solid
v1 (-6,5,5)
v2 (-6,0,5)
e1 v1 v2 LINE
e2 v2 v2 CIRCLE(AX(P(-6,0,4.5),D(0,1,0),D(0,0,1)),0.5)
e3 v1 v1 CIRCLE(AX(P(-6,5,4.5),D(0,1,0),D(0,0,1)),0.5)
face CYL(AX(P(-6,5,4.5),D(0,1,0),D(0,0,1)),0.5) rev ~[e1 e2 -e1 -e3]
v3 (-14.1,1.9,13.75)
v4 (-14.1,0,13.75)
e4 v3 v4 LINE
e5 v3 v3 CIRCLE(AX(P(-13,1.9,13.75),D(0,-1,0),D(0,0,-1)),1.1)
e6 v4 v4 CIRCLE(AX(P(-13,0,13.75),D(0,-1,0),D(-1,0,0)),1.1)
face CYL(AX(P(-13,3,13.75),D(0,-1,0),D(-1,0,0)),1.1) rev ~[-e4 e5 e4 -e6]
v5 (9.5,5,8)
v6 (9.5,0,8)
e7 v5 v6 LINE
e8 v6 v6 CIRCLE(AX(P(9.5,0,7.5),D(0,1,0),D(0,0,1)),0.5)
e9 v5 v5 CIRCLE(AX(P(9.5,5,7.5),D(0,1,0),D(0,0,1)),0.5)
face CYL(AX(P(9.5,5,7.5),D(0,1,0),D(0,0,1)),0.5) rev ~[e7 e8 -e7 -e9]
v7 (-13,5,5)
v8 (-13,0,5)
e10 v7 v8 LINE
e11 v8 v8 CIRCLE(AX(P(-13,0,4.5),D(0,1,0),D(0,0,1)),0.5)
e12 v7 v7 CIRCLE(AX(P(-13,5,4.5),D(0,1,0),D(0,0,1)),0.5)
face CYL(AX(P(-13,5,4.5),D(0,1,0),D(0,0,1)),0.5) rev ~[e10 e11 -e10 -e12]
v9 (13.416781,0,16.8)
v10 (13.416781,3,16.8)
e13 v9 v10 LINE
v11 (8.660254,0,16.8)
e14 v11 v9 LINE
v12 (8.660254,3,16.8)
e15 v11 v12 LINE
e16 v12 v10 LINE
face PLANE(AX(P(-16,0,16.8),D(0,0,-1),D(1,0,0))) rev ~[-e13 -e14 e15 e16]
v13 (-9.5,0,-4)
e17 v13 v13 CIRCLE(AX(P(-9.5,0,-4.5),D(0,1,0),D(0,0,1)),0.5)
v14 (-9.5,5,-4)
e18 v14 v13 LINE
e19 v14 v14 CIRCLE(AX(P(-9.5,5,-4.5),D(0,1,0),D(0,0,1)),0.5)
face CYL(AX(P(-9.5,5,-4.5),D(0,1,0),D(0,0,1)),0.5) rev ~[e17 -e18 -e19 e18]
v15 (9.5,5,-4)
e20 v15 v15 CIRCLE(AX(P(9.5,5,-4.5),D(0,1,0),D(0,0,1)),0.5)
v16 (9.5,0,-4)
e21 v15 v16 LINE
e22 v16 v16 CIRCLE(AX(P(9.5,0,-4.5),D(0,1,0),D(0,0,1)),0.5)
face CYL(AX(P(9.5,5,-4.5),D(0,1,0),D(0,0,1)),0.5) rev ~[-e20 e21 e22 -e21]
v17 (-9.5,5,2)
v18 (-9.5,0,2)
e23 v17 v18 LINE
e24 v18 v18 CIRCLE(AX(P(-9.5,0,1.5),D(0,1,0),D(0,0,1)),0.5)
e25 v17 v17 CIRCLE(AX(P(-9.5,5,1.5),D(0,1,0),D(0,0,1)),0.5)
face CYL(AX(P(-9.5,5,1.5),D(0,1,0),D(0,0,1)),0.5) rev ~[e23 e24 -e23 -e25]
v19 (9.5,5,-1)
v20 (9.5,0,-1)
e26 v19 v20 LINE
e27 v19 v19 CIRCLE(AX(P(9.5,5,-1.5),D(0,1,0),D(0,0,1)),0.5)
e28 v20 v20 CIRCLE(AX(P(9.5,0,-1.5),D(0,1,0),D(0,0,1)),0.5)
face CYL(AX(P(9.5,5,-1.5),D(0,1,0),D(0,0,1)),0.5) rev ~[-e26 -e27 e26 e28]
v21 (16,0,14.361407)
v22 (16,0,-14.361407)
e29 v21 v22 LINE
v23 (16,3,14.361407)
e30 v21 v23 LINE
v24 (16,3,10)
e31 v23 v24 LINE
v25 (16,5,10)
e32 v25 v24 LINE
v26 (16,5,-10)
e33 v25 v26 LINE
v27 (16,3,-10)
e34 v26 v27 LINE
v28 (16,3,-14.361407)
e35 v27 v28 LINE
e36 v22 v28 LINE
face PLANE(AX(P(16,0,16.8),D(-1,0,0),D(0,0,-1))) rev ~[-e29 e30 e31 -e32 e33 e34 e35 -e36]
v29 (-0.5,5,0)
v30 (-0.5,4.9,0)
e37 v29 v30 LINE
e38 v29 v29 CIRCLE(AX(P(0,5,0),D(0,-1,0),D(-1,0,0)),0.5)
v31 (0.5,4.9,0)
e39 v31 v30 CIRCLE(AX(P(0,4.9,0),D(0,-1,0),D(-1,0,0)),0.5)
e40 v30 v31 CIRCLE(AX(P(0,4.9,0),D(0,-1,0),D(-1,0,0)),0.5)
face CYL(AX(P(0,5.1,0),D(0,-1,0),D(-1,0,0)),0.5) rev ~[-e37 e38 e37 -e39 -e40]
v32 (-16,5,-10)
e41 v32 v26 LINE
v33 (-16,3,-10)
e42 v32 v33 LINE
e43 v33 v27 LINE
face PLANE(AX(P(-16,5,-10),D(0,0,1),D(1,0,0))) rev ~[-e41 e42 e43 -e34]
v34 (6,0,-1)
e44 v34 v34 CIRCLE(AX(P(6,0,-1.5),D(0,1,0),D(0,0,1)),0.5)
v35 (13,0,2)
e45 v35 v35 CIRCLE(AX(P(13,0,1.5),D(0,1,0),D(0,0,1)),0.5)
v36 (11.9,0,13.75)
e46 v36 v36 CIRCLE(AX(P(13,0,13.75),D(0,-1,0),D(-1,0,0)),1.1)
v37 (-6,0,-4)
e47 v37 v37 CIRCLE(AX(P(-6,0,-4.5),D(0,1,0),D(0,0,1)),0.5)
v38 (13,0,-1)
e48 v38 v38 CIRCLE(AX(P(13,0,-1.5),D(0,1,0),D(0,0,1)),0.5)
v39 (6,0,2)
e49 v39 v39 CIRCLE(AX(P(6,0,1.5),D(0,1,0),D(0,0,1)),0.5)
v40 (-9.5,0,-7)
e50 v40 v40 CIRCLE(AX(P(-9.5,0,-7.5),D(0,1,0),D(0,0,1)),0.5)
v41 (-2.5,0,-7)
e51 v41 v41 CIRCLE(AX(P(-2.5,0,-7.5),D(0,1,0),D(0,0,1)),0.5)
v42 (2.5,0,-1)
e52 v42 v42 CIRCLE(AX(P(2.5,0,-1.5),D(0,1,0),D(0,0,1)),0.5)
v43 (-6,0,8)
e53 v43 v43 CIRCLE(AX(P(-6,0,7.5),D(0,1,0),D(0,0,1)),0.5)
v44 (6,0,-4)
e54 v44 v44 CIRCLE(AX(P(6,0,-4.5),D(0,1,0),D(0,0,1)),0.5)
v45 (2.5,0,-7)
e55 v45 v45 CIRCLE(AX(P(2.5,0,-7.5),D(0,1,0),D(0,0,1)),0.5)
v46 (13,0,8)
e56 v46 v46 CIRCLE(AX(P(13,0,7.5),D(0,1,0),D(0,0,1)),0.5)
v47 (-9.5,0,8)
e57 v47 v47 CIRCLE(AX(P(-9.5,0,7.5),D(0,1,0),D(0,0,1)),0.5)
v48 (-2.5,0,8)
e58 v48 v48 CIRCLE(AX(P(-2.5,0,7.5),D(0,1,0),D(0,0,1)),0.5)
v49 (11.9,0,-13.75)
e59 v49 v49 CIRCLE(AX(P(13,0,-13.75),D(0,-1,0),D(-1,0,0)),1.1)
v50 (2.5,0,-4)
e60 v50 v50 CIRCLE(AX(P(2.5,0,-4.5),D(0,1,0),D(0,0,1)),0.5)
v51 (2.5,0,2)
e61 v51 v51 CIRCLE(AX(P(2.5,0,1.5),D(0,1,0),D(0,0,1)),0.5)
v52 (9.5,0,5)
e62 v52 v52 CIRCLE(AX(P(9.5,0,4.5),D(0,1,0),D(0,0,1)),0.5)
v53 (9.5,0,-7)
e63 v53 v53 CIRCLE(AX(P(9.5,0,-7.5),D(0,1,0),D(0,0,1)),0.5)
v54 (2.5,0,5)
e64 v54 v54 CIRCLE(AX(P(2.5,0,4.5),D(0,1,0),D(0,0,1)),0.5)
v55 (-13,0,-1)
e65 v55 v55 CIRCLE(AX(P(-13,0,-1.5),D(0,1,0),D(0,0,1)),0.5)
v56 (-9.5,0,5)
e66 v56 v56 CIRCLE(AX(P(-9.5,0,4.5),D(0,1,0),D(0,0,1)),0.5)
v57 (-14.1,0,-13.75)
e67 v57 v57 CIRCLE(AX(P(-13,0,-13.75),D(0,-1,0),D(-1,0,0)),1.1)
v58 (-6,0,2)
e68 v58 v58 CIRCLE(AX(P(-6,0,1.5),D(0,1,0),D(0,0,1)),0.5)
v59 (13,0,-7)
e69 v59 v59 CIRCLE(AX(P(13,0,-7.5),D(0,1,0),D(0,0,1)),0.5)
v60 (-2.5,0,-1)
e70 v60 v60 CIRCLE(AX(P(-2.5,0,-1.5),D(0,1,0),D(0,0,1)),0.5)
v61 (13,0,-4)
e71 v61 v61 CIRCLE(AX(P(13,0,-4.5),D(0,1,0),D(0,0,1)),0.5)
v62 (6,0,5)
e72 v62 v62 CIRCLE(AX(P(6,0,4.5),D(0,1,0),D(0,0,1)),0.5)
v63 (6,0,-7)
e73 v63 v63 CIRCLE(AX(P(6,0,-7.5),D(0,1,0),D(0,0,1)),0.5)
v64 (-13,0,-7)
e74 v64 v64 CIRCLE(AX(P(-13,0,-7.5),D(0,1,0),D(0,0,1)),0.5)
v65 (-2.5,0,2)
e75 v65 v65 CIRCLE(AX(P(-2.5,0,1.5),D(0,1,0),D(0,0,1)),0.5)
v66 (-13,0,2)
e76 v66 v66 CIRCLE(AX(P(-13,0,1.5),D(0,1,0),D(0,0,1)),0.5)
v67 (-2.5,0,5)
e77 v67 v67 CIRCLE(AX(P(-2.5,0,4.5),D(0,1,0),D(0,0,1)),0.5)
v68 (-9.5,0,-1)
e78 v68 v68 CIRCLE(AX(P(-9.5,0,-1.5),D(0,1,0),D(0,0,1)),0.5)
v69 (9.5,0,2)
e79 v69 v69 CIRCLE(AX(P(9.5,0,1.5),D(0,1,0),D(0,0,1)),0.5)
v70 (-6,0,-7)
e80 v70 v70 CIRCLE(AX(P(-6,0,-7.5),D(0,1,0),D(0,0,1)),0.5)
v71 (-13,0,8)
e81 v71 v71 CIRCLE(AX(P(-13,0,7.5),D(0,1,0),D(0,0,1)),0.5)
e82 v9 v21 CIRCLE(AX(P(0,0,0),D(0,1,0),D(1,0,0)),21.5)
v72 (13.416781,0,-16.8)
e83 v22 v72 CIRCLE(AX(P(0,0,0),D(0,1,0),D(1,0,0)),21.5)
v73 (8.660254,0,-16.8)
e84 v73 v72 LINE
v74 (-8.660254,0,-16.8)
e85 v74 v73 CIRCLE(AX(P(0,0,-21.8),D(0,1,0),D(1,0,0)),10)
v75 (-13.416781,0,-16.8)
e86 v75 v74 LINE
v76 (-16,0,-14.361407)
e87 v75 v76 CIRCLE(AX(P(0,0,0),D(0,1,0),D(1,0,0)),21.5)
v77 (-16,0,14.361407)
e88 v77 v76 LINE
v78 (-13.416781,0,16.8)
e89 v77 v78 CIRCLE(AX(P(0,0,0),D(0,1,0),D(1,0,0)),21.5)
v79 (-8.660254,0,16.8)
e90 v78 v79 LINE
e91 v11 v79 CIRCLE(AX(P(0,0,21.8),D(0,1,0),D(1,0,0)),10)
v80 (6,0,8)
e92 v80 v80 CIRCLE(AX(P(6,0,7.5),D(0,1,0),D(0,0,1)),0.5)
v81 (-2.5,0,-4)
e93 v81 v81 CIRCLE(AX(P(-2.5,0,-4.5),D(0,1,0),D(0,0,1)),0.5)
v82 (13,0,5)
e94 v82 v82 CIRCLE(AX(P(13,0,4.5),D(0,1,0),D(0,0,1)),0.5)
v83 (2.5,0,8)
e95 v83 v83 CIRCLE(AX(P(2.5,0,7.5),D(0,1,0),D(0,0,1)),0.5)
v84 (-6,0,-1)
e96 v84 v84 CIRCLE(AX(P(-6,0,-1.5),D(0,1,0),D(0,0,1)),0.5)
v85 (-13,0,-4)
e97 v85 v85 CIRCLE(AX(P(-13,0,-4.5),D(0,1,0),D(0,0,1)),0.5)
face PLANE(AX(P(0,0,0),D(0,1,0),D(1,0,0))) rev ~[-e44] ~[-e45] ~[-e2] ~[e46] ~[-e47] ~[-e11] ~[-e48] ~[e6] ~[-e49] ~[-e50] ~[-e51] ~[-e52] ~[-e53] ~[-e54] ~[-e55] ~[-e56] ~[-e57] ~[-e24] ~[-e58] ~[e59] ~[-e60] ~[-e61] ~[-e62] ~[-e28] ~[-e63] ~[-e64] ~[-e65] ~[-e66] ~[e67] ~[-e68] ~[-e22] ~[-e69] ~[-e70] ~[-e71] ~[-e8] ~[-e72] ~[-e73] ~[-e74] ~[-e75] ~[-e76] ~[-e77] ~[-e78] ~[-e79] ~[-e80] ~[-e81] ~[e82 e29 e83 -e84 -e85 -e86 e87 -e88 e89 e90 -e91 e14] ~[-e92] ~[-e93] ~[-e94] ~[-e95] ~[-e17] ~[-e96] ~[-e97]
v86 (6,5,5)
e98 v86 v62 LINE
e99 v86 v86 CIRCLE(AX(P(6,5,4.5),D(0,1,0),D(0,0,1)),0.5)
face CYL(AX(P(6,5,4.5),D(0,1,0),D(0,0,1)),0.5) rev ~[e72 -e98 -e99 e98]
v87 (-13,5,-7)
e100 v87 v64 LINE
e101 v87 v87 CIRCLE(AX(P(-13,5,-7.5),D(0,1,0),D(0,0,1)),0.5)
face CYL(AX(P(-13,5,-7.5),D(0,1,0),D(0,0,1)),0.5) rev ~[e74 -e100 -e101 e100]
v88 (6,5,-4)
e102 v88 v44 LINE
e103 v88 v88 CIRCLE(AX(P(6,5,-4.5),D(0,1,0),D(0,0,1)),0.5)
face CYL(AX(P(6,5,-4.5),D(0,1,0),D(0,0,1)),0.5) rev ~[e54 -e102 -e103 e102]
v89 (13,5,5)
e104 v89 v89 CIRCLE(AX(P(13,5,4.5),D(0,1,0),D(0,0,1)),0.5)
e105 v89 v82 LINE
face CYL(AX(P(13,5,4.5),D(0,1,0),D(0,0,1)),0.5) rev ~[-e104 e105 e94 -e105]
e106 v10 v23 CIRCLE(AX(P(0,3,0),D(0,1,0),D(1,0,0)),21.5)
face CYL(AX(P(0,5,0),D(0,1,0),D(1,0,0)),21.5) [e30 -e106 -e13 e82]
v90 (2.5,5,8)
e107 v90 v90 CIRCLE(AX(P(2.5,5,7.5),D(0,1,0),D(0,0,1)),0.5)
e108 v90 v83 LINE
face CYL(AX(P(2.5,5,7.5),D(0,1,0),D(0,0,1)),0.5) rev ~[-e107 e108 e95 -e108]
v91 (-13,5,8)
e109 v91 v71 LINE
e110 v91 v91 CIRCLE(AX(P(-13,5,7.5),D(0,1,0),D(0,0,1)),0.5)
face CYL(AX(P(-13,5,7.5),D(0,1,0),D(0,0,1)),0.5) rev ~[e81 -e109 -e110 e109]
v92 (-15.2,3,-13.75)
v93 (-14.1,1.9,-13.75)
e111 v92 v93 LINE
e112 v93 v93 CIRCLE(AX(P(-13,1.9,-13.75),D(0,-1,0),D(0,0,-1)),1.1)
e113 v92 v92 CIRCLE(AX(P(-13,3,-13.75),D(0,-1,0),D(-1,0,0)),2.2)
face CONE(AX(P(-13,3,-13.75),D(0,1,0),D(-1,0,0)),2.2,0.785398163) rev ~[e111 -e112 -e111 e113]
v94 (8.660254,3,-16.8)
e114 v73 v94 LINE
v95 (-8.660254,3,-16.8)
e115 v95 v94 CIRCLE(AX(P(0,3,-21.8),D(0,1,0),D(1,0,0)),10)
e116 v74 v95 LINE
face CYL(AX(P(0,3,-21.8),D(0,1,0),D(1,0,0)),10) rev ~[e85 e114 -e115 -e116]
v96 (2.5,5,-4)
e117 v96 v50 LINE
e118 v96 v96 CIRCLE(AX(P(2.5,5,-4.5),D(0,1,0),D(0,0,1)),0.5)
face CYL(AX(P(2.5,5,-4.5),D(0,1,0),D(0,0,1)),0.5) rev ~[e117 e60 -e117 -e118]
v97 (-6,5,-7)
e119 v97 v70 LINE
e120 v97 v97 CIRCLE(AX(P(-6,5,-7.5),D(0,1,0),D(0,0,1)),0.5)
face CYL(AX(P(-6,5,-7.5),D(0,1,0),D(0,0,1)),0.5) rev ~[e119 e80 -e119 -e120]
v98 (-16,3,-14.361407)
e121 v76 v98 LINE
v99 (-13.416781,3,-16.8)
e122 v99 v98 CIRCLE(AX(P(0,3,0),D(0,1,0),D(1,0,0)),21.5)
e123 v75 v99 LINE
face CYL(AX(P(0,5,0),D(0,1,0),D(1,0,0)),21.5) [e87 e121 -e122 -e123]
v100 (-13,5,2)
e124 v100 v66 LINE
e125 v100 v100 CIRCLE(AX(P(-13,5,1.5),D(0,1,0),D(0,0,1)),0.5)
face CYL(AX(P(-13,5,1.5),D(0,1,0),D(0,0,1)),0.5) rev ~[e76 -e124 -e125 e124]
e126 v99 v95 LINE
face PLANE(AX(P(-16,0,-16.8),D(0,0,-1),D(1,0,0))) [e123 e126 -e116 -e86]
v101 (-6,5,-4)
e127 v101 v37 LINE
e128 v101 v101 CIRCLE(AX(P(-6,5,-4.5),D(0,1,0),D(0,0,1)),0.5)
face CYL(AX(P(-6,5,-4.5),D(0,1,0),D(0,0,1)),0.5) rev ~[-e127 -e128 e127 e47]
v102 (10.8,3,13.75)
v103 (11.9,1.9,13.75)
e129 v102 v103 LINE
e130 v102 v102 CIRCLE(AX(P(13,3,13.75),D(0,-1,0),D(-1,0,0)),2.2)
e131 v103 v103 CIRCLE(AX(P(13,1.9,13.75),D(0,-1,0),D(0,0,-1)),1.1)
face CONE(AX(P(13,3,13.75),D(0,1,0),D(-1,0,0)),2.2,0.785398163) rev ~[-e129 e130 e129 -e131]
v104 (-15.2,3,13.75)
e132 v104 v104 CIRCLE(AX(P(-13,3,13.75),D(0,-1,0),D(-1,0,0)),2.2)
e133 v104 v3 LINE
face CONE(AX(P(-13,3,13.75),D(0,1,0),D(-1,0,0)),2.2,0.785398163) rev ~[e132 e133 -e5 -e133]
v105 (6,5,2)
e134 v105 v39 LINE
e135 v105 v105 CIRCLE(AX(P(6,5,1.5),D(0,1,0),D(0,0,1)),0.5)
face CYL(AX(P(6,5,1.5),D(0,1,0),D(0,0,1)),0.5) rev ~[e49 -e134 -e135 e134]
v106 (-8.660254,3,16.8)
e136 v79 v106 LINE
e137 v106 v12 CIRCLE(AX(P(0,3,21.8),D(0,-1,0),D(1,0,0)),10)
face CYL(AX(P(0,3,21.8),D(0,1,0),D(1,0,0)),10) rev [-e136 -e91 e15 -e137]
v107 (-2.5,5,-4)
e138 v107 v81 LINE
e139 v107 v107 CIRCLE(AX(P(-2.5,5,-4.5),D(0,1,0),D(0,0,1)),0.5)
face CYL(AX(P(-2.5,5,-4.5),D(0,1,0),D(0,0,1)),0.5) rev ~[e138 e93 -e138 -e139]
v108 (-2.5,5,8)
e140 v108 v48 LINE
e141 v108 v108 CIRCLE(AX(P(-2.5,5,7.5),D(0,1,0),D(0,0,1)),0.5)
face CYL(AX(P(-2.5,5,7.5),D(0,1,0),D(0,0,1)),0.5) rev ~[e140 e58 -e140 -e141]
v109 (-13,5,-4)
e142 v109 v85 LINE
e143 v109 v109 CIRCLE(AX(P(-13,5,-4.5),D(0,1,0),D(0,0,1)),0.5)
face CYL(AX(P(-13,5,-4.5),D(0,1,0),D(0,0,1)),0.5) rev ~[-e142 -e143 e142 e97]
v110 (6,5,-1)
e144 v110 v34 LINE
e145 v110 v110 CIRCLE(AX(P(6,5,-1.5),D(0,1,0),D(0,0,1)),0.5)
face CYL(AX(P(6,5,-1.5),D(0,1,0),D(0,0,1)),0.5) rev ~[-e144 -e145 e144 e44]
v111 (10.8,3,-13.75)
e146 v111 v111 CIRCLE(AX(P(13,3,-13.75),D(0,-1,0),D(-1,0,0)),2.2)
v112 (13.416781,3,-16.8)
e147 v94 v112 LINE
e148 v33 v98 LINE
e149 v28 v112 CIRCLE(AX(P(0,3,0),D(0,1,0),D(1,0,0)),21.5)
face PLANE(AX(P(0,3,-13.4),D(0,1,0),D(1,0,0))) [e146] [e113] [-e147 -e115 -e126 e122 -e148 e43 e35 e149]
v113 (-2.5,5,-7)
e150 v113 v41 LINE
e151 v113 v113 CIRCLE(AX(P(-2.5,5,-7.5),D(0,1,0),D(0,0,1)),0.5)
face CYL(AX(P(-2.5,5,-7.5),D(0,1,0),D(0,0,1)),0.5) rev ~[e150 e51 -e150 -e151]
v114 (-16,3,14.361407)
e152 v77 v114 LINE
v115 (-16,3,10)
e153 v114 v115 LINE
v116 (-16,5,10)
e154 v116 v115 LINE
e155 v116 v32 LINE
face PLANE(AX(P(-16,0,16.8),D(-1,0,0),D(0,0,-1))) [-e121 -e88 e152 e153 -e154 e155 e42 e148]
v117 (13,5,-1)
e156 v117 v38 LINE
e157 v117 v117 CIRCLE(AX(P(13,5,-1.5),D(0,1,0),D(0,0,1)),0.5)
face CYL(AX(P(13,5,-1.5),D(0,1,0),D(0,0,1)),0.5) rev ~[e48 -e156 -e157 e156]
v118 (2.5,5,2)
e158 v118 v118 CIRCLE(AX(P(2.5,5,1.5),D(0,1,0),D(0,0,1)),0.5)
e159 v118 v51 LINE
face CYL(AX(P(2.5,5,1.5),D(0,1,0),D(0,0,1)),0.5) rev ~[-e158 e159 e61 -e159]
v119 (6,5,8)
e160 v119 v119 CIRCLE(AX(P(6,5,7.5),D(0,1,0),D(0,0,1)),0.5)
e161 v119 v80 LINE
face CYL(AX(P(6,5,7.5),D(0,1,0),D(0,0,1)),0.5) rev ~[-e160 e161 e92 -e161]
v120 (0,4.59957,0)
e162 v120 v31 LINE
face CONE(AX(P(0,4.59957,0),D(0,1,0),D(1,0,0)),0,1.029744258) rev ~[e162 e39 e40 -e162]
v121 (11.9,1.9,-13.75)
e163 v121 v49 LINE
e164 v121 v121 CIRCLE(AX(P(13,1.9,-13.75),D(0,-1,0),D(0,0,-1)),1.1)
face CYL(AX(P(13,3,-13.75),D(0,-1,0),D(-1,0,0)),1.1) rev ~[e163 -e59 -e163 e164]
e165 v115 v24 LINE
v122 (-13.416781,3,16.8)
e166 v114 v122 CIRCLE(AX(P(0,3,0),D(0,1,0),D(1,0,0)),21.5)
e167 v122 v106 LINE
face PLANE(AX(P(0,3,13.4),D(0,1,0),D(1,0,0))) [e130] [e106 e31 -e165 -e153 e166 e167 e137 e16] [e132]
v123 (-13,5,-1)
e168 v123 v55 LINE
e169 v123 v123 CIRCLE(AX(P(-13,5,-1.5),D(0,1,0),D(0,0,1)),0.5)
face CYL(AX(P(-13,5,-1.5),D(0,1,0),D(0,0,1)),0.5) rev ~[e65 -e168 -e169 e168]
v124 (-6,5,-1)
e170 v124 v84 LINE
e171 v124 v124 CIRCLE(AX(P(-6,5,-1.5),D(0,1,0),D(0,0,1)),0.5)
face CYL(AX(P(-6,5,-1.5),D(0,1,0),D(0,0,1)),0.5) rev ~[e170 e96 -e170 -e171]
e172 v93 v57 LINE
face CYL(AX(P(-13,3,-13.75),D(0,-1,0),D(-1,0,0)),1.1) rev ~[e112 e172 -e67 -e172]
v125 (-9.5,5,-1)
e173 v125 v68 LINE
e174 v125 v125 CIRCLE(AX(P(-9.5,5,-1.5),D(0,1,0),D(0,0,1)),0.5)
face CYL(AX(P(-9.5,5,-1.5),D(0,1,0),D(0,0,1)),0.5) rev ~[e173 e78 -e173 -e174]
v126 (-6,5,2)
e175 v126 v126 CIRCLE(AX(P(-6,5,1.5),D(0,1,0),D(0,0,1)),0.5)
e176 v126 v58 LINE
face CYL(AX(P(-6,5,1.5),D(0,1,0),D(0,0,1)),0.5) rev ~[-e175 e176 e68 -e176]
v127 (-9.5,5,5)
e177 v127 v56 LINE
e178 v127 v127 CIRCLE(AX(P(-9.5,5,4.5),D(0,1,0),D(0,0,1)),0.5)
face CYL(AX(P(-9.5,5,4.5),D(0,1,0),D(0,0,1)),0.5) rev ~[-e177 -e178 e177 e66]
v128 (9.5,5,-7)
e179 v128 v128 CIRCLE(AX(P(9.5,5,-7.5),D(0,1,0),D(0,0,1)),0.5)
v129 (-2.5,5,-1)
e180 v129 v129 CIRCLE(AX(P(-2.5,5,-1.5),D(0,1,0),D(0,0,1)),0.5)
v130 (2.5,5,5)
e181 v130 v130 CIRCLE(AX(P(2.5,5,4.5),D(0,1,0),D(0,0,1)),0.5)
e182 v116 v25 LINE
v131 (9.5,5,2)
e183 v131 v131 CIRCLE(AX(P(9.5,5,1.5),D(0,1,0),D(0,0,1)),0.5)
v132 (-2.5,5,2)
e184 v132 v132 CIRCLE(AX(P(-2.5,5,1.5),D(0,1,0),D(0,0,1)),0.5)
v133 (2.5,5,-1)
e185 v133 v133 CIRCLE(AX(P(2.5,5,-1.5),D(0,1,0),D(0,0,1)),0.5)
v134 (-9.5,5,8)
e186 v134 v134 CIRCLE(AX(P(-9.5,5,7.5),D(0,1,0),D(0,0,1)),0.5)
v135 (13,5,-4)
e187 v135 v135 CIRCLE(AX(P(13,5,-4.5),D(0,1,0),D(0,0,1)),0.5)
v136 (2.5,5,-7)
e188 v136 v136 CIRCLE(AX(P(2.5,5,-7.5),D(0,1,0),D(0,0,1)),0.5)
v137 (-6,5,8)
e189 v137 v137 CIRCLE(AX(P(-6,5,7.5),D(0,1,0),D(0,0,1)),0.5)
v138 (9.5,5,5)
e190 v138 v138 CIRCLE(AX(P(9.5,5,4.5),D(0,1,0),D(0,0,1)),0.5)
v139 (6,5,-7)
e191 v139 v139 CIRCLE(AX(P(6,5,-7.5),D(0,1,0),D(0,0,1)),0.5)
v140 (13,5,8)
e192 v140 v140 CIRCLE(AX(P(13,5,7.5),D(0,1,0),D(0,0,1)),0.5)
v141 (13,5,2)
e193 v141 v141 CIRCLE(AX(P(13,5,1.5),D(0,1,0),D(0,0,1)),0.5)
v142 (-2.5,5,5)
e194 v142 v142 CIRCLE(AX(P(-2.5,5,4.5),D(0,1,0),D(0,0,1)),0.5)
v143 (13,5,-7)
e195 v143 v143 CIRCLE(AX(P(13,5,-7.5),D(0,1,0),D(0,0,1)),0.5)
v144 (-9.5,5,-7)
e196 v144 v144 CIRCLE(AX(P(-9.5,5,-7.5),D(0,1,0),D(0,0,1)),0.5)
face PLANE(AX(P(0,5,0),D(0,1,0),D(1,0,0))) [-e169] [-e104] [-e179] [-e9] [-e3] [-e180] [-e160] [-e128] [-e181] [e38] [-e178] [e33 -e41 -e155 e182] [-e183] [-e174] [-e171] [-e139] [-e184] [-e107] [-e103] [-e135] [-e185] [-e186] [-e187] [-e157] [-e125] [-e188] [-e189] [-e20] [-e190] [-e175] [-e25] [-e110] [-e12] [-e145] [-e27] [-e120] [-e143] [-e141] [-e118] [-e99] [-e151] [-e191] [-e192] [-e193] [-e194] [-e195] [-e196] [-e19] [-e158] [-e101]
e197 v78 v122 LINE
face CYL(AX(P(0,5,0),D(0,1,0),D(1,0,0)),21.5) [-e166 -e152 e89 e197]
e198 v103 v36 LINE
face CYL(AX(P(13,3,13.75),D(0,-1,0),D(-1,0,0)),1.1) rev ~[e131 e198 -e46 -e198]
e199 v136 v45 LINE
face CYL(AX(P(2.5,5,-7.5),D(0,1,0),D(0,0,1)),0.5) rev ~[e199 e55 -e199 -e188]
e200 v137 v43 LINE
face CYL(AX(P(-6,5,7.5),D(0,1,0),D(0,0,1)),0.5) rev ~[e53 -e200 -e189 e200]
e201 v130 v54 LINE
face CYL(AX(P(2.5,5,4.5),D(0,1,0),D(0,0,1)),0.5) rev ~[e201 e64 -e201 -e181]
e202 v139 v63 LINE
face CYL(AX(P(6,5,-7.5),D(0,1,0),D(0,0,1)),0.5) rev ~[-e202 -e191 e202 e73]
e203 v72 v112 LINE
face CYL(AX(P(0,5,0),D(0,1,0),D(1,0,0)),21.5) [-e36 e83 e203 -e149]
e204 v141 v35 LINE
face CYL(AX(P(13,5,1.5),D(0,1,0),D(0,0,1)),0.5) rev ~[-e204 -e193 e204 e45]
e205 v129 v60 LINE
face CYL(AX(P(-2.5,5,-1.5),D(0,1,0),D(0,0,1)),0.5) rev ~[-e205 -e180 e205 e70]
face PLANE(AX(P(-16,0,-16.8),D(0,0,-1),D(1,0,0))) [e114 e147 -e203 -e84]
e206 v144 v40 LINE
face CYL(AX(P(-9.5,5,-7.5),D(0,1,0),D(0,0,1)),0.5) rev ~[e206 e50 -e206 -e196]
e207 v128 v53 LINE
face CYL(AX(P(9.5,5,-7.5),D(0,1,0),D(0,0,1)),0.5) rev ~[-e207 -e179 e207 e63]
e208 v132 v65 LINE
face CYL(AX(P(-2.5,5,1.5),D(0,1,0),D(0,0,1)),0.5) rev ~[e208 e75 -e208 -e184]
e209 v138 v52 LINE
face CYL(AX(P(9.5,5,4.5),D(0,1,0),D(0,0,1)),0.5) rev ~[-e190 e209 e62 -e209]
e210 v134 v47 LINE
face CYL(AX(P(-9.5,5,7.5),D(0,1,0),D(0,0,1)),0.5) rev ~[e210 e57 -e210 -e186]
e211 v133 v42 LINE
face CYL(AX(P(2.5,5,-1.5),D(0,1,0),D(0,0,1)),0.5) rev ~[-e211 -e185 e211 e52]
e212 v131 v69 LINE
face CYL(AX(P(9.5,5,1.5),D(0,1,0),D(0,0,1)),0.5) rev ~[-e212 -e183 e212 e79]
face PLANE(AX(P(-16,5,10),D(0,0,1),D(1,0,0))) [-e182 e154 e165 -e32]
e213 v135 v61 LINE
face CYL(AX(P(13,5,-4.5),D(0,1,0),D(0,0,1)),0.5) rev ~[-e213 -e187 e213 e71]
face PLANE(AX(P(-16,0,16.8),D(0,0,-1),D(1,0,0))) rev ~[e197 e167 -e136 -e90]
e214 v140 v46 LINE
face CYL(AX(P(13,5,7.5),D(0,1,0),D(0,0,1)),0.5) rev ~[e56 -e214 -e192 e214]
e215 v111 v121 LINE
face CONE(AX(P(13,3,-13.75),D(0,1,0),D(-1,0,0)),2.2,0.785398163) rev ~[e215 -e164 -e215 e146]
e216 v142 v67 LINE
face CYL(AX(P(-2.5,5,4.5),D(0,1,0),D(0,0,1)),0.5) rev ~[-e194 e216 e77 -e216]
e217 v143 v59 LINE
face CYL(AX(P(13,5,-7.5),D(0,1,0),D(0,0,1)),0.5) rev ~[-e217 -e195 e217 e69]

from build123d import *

# Parameters (mm, degrees)
SKIZZE1_W                                            = 32
SKIZZE1_H                                            = 33.6
AUFSATZ_LINEAR_AUSTRAGEN1_DEPTH                      = 5
SKIZZE9_R                                            = 0.5
SCHNITT_LINEAR_AUSTRAGEN1_DEPTH                      = 6
SKIZZE10_W                                           = 32
SKIZZE10_H                                           = 6.8
SCHNITT_LINEAR_AUSTRAGEN2_DEPTH                      = 2
FORMSENKUNG_F_R_M2_LINSENSENKSCHRAUBE_MI_D           = 2.2
FORMSENKUNG_F_R_M2_LINSENSENKSCHRAUBE_MI_DEPTH       = 4
FORMSENKUNG_F_R_M2_LINSENSENKSCHRAUBE_MI_CSINK_D     = 4.4
FORMSENKUNG_F_R_M2_LINSENSENKSCHRAUBE_MI_CSINK_ANGLE = 90
FORMSENKUNG_F_R_M2_LINSENSENKSCHRAUBE_MI_TIP         = 0.660946681
SKIZZE13_R                                           = 10
SCHNITT_LINEAR_AUSTRAGEN3_DEPTH                      = 24.393161394
SKIZZE14_R                                           = 31.5
SKIZZE14_R_2                                         = 21.5
SCHNITT_LINEAR_AUSTRAGEN_D_NN1_DEPTH                 = 10
F_1_0_1_DURCHMESSER_BOHRUNG1_D                       = 1
F_1_0_1_DURCHMESSER_BOHRUNG1_DEPTH                   = 0.1
F_1_0_1_DURCHMESSER_BOHRUNG1_TIP                     = 0.30043031


with BuildPart() as part:
    # Skizze1 → Aufsatz-Linear austragen1 (new body)
    with BuildSketch(Plane(origin=(0, 0, 0), x_dir=(1, 0, 0), z_dir=(0, 1, 0))):
        Rectangle(SKIZZE1_W, SKIZZE1_H)
    extrude(amount=AUFSATZ_LINEAR_AUSTRAGEN1_DEPTH)

    # Skizze9 → Schnitt-Linear austragen1 (cut)
    with BuildSketch(Plane(origin=(0, 5, 0), x_dir=(1, 0, 0), z_dir=(0, 1, 0))):
        with Locations(Location((-13, 7.5, 0), (0, 0, 270))):
            Circle(SKIZZE9_R)
        with Locations(Location((-9.5, 7.5, 0), (0, 0, 270))):
            Circle(SKIZZE9_R)
        with Locations(Location((-6, 7.5, 0), (0, 0, 270))):
            Circle(SKIZZE9_R)
        with Locations(Location((-2.5, 7.5, 0), (0, 0, 270))):
            Circle(SKIZZE9_R)
        with Locations(Location((-2.5, 4.5, 0), (0, 0, 270))):
            Circle(SKIZZE9_R)
        with Locations(Location((13, -7.5, 0), (0, 0, 270))):
            Circle(SKIZZE9_R)
        with Locations(Location((13, -4.5, 0), (0, 0, 270))):
            Circle(SKIZZE9_R)
        with Locations(Location((13, -1.5, 0), (0, 0, 270))):
            Circle(SKIZZE9_R)
        with Locations(Location((13, 1.5, 0), (0, 0, 270))):
            Circle(SKIZZE9_R)
        with Locations(Location((13, 4.5, 0), (0, 0, 270))):
            Circle(SKIZZE9_R)
        with Locations(Location((-2.5, 1.5, 0), (0, 0, 270))):
            Circle(SKIZZE9_R)
        with Locations(Location((-9.5, 4.5, 0), (0, 0, 270))):
            Circle(SKIZZE9_R)
        with Locations(Location((-6, 4.5, 0), (0, 0, 270))):
            Circle(SKIZZE9_R)
        with Locations(Location((-2.5, -1.5, 0), (0, 0, 270))):
            Circle(SKIZZE9_R)
        with Locations(Location((-2.5, -4.5, 0), (0, 0, 270))):
            Circle(SKIZZE9_R)
        with Locations(Location((-2.5, -7.5, 0), (0, 0, 270))):
            Circle(SKIZZE9_R)
        with Locations(Location((6, -7.5, 0), (0, 0, 270))):
            Circle(SKIZZE9_R)
        with Locations(Location((9.5, -7.5, 0), (0, 0, 270))):
            Circle(SKIZZE9_R)
        with Locations(Location((2.5, -7.5, 0), (0, 0, 270))):
            Circle(SKIZZE9_R)
        with Locations(Location((2.5, -4.5, 0), (0, 0, 270))):
            Circle(SKIZZE9_R)
        with Locations(Location((6, -4.5, 0), (0, 0, 270))):
            Circle(SKIZZE9_R)
        with Locations(Location((-9.5, 1.5, 0), (0, 0, 270))):
            Circle(SKIZZE9_R)
        with Locations(Location((-6, 1.5, 0), (0, 0, 270))):
            Circle(SKIZZE9_R)
        with Locations(Location((2.5, -1.5, 0), (0, 0, 270))):
            Circle(SKIZZE9_R)
        with Locations(Location((2.5, 1.5, 0), (0, 0, 270))):
            Circle(SKIZZE9_R)
        with Locations(Location((9.5, -4.5, 0), (0, 0, 270))):
            Circle(SKIZZE9_R)
        with Locations(Location((2.5, 4.5, 0), (0, 0, 270))):
            Circle(SKIZZE9_R)
        with Locations(Location((2.5, 7.5, 0), (0, 0, 270))):
            Circle(SKIZZE9_R)
        with Locations(Location((6, -1.5, 0), (0, 0, 270))):
            Circle(SKIZZE9_R)
        with Locations(Location((9.5, -1.5, 0), (0, 0, 270))):
            Circle(SKIZZE9_R)
        with Locations(Location((-9.5, -1.5, 0), (0, 0, 270))):
            Circle(SKIZZE9_R)
        with Locations(Location((-6, -1.5, 0), (0, 0, 270))):
            Circle(SKIZZE9_R)
        with Locations(Location((6, 1.5, 0), (0, 0, 270))):
            Circle(SKIZZE9_R)
        with Locations(Location((9.5, 1.5, 0), (0, 0, 270))):
            Circle(SKIZZE9_R)
        with Locations(Location((6, 4.5, 0), (0, 0, 270))):
            Circle(SKIZZE9_R)
        with Locations(Location((-9.5, -4.5, 0), (0, 0, 270))):
            Circle(SKIZZE9_R)
        with Locations(Location((-6, -4.5, 0), (0, 0, 270))):
            Circle(SKIZZE9_R)
        with Locations(Location((9.5, 4.5, 0), (0, 0, 270))):
            Circle(SKIZZE9_R)
        with Locations(Location((6, 7.5, 0), (0, 0, 270))):
            Circle(SKIZZE9_R)
        with Locations(Location((9.5, 7.5, 0), (0, 0, 270))):
            Circle(SKIZZE9_R)
        with Locations(Location((13, 7.5, 0), (0, 0, 270))):
            Circle(SKIZZE9_R)
        with Locations(Location((-9.5, -7.5, 0), (0, 0, 270))):
            Circle(SKIZZE9_R)
        with Locations(Location((-6, -7.5, 0), (0, 0, 270))):
            Circle(SKIZZE9_R)
        with Locations(Location((-13, 4.5, 0), (0, 0, 270))):
            Circle(SKIZZE9_R)
        with Locations(Location((-13, 1.5, 0), (0, 0, 270))):
            Circle(SKIZZE9_R)
        with Locations(Location((-13, -1.5, 0), (0, 0, 270))):
            Circle(SKIZZE9_R)
        with Locations(Location((-13, -4.5, 0), (0, 0, 270))):
            Circle(SKIZZE9_R)
        with Locations(Location((-13, -7.5, 0), (0, 0, 270))):
            Circle(SKIZZE9_R)
    extrude(amount=-SCHNITT_LINEAR_AUSTRAGEN1_DEPTH, mode=Mode.SUBTRACT)

    # Skizze10 → Schnitt-Linear austragen2 (cut)
    with BuildSketch(Plane(origin=(0, 5, 0), x_dir=(1, 0, 0), z_dir=(0, 1, 0))):
        with Locations((0, 13.4)):
            Rectangle(SKIZZE10_W, SKIZZE10_H)
        with Locations((0, -13.4)):
            Rectangle(SKIZZE10_W, SKIZZE10_H)
    extrude(amount=-SCHNITT_LINEAR_AUSTRAGEN2_DEPTH, mode=Mode.SUBTRACT)

    # Formsenkung für M2 Linsensenkschraube mit Schlitz2
    with Locations(Plane(origin=(0, 3, 0), x_dir=(1, 0, 0), z_dir=(0, 1, 0))):
        with Locations((-13, 13.75), (13, 13.75), (13, -13.75), (-13, -13.75)):
            CounterSinkHole(FORMSENKUNG_F_R_M2_LINSENSENKSCHRAUBE_MI_D / 2, FORMSENKUNG_F_R_M2_LINSENSENKSCHRAUBE_MI_CSINK_D / 2, depth=FORMSENKUNG_F_R_M2_LINSENSENKSCHRAUBE_MI_DEPTH, counter_sink_angle=FORMSENKUNG_F_R_M2_LINSENSENKSCHRAUBE_MI_CSINK_ANGLE)
            with Locations((0, 0, -(FORMSENKUNG_F_R_M2_LINSENSENKSCHRAUBE_MI_DEPTH + FORMSENKUNG_F_R_M2_LINSENSENKSCHRAUBE_MI_TIP / 2))):  # 118° drill point
                Cone(0, FORMSENKUNG_F_R_M2_LINSENSENKSCHRAUBE_MI_D / 2, FORMSENKUNG_F_R_M2_LINSENSENKSCHRAUBE_MI_TIP, mode=Mode.SUBTRACT)

    # Skizze13 → Schnitt-Linear austragen3 (cut, through all)
    with BuildSketch(Plane(origin=(0, 3, 0), x_dir=(1, 0, 0), z_dir=(0, 1, 0))):
        with Locations((0, 21.8)):
            Circle(SKIZZE13_R)
    schnitt_linear_austragen3 = extrude(amount=-SCHNITT_LINEAR_AUSTRAGEN3_DEPTH, mode=Mode.SUBTRACT)

    # Spiegeln3: Schnitt-Linear austragen3 across plane
    add(schnitt_linear_austragen3.mirror(Plane.XY), mode=Mode.SUBTRACT)

    # Skizze14 → Schnitt-Linear-Austragen-Dünn1 (cut)
    with BuildSketch(Plane(origin=(0, 5, 0), x_dir=(1, 0, 0), z_dir=(0, 1, 0))):
        Circle(SKIZZE14_R)
        Circle(SKIZZE14_R_2, mode=Mode.SUBTRACT)
    extrude(amount=-SCHNITT_LINEAR_AUSTRAGEN_D_NN1_DEPTH, mode=Mode.SUBTRACT)

    # Ø1.0 (1) Durchmesser Bohrung1
    with Locations(Plane(origin=(0, 5, 0), x_dir=(1, 0, 0), z_dir=(0, 1, 0))):
        with Locations((0, 0)):
            Hole(F_1_0_1_DURCHMESSER_BOHRUNG1_D / 2, depth=F_1_0_1_DURCHMESSER_BOHRUNG1_DEPTH)
            with Locations((0, 0, -(F_1_0_1_DURCHMESSER_BOHRUNG1_DEPTH + F_1_0_1_DURCHMESSER_BOHRUNG1_TIP / 2))):  # 118° drill point
                Cone(0, F_1_0_1_DURCHMESSER_BOHRUNG1_D / 2, F_1_0_1_DURCHMESSER_BOHRUNG1_TIP, mode=Mode.SUBTRACT)


solid = part.part
